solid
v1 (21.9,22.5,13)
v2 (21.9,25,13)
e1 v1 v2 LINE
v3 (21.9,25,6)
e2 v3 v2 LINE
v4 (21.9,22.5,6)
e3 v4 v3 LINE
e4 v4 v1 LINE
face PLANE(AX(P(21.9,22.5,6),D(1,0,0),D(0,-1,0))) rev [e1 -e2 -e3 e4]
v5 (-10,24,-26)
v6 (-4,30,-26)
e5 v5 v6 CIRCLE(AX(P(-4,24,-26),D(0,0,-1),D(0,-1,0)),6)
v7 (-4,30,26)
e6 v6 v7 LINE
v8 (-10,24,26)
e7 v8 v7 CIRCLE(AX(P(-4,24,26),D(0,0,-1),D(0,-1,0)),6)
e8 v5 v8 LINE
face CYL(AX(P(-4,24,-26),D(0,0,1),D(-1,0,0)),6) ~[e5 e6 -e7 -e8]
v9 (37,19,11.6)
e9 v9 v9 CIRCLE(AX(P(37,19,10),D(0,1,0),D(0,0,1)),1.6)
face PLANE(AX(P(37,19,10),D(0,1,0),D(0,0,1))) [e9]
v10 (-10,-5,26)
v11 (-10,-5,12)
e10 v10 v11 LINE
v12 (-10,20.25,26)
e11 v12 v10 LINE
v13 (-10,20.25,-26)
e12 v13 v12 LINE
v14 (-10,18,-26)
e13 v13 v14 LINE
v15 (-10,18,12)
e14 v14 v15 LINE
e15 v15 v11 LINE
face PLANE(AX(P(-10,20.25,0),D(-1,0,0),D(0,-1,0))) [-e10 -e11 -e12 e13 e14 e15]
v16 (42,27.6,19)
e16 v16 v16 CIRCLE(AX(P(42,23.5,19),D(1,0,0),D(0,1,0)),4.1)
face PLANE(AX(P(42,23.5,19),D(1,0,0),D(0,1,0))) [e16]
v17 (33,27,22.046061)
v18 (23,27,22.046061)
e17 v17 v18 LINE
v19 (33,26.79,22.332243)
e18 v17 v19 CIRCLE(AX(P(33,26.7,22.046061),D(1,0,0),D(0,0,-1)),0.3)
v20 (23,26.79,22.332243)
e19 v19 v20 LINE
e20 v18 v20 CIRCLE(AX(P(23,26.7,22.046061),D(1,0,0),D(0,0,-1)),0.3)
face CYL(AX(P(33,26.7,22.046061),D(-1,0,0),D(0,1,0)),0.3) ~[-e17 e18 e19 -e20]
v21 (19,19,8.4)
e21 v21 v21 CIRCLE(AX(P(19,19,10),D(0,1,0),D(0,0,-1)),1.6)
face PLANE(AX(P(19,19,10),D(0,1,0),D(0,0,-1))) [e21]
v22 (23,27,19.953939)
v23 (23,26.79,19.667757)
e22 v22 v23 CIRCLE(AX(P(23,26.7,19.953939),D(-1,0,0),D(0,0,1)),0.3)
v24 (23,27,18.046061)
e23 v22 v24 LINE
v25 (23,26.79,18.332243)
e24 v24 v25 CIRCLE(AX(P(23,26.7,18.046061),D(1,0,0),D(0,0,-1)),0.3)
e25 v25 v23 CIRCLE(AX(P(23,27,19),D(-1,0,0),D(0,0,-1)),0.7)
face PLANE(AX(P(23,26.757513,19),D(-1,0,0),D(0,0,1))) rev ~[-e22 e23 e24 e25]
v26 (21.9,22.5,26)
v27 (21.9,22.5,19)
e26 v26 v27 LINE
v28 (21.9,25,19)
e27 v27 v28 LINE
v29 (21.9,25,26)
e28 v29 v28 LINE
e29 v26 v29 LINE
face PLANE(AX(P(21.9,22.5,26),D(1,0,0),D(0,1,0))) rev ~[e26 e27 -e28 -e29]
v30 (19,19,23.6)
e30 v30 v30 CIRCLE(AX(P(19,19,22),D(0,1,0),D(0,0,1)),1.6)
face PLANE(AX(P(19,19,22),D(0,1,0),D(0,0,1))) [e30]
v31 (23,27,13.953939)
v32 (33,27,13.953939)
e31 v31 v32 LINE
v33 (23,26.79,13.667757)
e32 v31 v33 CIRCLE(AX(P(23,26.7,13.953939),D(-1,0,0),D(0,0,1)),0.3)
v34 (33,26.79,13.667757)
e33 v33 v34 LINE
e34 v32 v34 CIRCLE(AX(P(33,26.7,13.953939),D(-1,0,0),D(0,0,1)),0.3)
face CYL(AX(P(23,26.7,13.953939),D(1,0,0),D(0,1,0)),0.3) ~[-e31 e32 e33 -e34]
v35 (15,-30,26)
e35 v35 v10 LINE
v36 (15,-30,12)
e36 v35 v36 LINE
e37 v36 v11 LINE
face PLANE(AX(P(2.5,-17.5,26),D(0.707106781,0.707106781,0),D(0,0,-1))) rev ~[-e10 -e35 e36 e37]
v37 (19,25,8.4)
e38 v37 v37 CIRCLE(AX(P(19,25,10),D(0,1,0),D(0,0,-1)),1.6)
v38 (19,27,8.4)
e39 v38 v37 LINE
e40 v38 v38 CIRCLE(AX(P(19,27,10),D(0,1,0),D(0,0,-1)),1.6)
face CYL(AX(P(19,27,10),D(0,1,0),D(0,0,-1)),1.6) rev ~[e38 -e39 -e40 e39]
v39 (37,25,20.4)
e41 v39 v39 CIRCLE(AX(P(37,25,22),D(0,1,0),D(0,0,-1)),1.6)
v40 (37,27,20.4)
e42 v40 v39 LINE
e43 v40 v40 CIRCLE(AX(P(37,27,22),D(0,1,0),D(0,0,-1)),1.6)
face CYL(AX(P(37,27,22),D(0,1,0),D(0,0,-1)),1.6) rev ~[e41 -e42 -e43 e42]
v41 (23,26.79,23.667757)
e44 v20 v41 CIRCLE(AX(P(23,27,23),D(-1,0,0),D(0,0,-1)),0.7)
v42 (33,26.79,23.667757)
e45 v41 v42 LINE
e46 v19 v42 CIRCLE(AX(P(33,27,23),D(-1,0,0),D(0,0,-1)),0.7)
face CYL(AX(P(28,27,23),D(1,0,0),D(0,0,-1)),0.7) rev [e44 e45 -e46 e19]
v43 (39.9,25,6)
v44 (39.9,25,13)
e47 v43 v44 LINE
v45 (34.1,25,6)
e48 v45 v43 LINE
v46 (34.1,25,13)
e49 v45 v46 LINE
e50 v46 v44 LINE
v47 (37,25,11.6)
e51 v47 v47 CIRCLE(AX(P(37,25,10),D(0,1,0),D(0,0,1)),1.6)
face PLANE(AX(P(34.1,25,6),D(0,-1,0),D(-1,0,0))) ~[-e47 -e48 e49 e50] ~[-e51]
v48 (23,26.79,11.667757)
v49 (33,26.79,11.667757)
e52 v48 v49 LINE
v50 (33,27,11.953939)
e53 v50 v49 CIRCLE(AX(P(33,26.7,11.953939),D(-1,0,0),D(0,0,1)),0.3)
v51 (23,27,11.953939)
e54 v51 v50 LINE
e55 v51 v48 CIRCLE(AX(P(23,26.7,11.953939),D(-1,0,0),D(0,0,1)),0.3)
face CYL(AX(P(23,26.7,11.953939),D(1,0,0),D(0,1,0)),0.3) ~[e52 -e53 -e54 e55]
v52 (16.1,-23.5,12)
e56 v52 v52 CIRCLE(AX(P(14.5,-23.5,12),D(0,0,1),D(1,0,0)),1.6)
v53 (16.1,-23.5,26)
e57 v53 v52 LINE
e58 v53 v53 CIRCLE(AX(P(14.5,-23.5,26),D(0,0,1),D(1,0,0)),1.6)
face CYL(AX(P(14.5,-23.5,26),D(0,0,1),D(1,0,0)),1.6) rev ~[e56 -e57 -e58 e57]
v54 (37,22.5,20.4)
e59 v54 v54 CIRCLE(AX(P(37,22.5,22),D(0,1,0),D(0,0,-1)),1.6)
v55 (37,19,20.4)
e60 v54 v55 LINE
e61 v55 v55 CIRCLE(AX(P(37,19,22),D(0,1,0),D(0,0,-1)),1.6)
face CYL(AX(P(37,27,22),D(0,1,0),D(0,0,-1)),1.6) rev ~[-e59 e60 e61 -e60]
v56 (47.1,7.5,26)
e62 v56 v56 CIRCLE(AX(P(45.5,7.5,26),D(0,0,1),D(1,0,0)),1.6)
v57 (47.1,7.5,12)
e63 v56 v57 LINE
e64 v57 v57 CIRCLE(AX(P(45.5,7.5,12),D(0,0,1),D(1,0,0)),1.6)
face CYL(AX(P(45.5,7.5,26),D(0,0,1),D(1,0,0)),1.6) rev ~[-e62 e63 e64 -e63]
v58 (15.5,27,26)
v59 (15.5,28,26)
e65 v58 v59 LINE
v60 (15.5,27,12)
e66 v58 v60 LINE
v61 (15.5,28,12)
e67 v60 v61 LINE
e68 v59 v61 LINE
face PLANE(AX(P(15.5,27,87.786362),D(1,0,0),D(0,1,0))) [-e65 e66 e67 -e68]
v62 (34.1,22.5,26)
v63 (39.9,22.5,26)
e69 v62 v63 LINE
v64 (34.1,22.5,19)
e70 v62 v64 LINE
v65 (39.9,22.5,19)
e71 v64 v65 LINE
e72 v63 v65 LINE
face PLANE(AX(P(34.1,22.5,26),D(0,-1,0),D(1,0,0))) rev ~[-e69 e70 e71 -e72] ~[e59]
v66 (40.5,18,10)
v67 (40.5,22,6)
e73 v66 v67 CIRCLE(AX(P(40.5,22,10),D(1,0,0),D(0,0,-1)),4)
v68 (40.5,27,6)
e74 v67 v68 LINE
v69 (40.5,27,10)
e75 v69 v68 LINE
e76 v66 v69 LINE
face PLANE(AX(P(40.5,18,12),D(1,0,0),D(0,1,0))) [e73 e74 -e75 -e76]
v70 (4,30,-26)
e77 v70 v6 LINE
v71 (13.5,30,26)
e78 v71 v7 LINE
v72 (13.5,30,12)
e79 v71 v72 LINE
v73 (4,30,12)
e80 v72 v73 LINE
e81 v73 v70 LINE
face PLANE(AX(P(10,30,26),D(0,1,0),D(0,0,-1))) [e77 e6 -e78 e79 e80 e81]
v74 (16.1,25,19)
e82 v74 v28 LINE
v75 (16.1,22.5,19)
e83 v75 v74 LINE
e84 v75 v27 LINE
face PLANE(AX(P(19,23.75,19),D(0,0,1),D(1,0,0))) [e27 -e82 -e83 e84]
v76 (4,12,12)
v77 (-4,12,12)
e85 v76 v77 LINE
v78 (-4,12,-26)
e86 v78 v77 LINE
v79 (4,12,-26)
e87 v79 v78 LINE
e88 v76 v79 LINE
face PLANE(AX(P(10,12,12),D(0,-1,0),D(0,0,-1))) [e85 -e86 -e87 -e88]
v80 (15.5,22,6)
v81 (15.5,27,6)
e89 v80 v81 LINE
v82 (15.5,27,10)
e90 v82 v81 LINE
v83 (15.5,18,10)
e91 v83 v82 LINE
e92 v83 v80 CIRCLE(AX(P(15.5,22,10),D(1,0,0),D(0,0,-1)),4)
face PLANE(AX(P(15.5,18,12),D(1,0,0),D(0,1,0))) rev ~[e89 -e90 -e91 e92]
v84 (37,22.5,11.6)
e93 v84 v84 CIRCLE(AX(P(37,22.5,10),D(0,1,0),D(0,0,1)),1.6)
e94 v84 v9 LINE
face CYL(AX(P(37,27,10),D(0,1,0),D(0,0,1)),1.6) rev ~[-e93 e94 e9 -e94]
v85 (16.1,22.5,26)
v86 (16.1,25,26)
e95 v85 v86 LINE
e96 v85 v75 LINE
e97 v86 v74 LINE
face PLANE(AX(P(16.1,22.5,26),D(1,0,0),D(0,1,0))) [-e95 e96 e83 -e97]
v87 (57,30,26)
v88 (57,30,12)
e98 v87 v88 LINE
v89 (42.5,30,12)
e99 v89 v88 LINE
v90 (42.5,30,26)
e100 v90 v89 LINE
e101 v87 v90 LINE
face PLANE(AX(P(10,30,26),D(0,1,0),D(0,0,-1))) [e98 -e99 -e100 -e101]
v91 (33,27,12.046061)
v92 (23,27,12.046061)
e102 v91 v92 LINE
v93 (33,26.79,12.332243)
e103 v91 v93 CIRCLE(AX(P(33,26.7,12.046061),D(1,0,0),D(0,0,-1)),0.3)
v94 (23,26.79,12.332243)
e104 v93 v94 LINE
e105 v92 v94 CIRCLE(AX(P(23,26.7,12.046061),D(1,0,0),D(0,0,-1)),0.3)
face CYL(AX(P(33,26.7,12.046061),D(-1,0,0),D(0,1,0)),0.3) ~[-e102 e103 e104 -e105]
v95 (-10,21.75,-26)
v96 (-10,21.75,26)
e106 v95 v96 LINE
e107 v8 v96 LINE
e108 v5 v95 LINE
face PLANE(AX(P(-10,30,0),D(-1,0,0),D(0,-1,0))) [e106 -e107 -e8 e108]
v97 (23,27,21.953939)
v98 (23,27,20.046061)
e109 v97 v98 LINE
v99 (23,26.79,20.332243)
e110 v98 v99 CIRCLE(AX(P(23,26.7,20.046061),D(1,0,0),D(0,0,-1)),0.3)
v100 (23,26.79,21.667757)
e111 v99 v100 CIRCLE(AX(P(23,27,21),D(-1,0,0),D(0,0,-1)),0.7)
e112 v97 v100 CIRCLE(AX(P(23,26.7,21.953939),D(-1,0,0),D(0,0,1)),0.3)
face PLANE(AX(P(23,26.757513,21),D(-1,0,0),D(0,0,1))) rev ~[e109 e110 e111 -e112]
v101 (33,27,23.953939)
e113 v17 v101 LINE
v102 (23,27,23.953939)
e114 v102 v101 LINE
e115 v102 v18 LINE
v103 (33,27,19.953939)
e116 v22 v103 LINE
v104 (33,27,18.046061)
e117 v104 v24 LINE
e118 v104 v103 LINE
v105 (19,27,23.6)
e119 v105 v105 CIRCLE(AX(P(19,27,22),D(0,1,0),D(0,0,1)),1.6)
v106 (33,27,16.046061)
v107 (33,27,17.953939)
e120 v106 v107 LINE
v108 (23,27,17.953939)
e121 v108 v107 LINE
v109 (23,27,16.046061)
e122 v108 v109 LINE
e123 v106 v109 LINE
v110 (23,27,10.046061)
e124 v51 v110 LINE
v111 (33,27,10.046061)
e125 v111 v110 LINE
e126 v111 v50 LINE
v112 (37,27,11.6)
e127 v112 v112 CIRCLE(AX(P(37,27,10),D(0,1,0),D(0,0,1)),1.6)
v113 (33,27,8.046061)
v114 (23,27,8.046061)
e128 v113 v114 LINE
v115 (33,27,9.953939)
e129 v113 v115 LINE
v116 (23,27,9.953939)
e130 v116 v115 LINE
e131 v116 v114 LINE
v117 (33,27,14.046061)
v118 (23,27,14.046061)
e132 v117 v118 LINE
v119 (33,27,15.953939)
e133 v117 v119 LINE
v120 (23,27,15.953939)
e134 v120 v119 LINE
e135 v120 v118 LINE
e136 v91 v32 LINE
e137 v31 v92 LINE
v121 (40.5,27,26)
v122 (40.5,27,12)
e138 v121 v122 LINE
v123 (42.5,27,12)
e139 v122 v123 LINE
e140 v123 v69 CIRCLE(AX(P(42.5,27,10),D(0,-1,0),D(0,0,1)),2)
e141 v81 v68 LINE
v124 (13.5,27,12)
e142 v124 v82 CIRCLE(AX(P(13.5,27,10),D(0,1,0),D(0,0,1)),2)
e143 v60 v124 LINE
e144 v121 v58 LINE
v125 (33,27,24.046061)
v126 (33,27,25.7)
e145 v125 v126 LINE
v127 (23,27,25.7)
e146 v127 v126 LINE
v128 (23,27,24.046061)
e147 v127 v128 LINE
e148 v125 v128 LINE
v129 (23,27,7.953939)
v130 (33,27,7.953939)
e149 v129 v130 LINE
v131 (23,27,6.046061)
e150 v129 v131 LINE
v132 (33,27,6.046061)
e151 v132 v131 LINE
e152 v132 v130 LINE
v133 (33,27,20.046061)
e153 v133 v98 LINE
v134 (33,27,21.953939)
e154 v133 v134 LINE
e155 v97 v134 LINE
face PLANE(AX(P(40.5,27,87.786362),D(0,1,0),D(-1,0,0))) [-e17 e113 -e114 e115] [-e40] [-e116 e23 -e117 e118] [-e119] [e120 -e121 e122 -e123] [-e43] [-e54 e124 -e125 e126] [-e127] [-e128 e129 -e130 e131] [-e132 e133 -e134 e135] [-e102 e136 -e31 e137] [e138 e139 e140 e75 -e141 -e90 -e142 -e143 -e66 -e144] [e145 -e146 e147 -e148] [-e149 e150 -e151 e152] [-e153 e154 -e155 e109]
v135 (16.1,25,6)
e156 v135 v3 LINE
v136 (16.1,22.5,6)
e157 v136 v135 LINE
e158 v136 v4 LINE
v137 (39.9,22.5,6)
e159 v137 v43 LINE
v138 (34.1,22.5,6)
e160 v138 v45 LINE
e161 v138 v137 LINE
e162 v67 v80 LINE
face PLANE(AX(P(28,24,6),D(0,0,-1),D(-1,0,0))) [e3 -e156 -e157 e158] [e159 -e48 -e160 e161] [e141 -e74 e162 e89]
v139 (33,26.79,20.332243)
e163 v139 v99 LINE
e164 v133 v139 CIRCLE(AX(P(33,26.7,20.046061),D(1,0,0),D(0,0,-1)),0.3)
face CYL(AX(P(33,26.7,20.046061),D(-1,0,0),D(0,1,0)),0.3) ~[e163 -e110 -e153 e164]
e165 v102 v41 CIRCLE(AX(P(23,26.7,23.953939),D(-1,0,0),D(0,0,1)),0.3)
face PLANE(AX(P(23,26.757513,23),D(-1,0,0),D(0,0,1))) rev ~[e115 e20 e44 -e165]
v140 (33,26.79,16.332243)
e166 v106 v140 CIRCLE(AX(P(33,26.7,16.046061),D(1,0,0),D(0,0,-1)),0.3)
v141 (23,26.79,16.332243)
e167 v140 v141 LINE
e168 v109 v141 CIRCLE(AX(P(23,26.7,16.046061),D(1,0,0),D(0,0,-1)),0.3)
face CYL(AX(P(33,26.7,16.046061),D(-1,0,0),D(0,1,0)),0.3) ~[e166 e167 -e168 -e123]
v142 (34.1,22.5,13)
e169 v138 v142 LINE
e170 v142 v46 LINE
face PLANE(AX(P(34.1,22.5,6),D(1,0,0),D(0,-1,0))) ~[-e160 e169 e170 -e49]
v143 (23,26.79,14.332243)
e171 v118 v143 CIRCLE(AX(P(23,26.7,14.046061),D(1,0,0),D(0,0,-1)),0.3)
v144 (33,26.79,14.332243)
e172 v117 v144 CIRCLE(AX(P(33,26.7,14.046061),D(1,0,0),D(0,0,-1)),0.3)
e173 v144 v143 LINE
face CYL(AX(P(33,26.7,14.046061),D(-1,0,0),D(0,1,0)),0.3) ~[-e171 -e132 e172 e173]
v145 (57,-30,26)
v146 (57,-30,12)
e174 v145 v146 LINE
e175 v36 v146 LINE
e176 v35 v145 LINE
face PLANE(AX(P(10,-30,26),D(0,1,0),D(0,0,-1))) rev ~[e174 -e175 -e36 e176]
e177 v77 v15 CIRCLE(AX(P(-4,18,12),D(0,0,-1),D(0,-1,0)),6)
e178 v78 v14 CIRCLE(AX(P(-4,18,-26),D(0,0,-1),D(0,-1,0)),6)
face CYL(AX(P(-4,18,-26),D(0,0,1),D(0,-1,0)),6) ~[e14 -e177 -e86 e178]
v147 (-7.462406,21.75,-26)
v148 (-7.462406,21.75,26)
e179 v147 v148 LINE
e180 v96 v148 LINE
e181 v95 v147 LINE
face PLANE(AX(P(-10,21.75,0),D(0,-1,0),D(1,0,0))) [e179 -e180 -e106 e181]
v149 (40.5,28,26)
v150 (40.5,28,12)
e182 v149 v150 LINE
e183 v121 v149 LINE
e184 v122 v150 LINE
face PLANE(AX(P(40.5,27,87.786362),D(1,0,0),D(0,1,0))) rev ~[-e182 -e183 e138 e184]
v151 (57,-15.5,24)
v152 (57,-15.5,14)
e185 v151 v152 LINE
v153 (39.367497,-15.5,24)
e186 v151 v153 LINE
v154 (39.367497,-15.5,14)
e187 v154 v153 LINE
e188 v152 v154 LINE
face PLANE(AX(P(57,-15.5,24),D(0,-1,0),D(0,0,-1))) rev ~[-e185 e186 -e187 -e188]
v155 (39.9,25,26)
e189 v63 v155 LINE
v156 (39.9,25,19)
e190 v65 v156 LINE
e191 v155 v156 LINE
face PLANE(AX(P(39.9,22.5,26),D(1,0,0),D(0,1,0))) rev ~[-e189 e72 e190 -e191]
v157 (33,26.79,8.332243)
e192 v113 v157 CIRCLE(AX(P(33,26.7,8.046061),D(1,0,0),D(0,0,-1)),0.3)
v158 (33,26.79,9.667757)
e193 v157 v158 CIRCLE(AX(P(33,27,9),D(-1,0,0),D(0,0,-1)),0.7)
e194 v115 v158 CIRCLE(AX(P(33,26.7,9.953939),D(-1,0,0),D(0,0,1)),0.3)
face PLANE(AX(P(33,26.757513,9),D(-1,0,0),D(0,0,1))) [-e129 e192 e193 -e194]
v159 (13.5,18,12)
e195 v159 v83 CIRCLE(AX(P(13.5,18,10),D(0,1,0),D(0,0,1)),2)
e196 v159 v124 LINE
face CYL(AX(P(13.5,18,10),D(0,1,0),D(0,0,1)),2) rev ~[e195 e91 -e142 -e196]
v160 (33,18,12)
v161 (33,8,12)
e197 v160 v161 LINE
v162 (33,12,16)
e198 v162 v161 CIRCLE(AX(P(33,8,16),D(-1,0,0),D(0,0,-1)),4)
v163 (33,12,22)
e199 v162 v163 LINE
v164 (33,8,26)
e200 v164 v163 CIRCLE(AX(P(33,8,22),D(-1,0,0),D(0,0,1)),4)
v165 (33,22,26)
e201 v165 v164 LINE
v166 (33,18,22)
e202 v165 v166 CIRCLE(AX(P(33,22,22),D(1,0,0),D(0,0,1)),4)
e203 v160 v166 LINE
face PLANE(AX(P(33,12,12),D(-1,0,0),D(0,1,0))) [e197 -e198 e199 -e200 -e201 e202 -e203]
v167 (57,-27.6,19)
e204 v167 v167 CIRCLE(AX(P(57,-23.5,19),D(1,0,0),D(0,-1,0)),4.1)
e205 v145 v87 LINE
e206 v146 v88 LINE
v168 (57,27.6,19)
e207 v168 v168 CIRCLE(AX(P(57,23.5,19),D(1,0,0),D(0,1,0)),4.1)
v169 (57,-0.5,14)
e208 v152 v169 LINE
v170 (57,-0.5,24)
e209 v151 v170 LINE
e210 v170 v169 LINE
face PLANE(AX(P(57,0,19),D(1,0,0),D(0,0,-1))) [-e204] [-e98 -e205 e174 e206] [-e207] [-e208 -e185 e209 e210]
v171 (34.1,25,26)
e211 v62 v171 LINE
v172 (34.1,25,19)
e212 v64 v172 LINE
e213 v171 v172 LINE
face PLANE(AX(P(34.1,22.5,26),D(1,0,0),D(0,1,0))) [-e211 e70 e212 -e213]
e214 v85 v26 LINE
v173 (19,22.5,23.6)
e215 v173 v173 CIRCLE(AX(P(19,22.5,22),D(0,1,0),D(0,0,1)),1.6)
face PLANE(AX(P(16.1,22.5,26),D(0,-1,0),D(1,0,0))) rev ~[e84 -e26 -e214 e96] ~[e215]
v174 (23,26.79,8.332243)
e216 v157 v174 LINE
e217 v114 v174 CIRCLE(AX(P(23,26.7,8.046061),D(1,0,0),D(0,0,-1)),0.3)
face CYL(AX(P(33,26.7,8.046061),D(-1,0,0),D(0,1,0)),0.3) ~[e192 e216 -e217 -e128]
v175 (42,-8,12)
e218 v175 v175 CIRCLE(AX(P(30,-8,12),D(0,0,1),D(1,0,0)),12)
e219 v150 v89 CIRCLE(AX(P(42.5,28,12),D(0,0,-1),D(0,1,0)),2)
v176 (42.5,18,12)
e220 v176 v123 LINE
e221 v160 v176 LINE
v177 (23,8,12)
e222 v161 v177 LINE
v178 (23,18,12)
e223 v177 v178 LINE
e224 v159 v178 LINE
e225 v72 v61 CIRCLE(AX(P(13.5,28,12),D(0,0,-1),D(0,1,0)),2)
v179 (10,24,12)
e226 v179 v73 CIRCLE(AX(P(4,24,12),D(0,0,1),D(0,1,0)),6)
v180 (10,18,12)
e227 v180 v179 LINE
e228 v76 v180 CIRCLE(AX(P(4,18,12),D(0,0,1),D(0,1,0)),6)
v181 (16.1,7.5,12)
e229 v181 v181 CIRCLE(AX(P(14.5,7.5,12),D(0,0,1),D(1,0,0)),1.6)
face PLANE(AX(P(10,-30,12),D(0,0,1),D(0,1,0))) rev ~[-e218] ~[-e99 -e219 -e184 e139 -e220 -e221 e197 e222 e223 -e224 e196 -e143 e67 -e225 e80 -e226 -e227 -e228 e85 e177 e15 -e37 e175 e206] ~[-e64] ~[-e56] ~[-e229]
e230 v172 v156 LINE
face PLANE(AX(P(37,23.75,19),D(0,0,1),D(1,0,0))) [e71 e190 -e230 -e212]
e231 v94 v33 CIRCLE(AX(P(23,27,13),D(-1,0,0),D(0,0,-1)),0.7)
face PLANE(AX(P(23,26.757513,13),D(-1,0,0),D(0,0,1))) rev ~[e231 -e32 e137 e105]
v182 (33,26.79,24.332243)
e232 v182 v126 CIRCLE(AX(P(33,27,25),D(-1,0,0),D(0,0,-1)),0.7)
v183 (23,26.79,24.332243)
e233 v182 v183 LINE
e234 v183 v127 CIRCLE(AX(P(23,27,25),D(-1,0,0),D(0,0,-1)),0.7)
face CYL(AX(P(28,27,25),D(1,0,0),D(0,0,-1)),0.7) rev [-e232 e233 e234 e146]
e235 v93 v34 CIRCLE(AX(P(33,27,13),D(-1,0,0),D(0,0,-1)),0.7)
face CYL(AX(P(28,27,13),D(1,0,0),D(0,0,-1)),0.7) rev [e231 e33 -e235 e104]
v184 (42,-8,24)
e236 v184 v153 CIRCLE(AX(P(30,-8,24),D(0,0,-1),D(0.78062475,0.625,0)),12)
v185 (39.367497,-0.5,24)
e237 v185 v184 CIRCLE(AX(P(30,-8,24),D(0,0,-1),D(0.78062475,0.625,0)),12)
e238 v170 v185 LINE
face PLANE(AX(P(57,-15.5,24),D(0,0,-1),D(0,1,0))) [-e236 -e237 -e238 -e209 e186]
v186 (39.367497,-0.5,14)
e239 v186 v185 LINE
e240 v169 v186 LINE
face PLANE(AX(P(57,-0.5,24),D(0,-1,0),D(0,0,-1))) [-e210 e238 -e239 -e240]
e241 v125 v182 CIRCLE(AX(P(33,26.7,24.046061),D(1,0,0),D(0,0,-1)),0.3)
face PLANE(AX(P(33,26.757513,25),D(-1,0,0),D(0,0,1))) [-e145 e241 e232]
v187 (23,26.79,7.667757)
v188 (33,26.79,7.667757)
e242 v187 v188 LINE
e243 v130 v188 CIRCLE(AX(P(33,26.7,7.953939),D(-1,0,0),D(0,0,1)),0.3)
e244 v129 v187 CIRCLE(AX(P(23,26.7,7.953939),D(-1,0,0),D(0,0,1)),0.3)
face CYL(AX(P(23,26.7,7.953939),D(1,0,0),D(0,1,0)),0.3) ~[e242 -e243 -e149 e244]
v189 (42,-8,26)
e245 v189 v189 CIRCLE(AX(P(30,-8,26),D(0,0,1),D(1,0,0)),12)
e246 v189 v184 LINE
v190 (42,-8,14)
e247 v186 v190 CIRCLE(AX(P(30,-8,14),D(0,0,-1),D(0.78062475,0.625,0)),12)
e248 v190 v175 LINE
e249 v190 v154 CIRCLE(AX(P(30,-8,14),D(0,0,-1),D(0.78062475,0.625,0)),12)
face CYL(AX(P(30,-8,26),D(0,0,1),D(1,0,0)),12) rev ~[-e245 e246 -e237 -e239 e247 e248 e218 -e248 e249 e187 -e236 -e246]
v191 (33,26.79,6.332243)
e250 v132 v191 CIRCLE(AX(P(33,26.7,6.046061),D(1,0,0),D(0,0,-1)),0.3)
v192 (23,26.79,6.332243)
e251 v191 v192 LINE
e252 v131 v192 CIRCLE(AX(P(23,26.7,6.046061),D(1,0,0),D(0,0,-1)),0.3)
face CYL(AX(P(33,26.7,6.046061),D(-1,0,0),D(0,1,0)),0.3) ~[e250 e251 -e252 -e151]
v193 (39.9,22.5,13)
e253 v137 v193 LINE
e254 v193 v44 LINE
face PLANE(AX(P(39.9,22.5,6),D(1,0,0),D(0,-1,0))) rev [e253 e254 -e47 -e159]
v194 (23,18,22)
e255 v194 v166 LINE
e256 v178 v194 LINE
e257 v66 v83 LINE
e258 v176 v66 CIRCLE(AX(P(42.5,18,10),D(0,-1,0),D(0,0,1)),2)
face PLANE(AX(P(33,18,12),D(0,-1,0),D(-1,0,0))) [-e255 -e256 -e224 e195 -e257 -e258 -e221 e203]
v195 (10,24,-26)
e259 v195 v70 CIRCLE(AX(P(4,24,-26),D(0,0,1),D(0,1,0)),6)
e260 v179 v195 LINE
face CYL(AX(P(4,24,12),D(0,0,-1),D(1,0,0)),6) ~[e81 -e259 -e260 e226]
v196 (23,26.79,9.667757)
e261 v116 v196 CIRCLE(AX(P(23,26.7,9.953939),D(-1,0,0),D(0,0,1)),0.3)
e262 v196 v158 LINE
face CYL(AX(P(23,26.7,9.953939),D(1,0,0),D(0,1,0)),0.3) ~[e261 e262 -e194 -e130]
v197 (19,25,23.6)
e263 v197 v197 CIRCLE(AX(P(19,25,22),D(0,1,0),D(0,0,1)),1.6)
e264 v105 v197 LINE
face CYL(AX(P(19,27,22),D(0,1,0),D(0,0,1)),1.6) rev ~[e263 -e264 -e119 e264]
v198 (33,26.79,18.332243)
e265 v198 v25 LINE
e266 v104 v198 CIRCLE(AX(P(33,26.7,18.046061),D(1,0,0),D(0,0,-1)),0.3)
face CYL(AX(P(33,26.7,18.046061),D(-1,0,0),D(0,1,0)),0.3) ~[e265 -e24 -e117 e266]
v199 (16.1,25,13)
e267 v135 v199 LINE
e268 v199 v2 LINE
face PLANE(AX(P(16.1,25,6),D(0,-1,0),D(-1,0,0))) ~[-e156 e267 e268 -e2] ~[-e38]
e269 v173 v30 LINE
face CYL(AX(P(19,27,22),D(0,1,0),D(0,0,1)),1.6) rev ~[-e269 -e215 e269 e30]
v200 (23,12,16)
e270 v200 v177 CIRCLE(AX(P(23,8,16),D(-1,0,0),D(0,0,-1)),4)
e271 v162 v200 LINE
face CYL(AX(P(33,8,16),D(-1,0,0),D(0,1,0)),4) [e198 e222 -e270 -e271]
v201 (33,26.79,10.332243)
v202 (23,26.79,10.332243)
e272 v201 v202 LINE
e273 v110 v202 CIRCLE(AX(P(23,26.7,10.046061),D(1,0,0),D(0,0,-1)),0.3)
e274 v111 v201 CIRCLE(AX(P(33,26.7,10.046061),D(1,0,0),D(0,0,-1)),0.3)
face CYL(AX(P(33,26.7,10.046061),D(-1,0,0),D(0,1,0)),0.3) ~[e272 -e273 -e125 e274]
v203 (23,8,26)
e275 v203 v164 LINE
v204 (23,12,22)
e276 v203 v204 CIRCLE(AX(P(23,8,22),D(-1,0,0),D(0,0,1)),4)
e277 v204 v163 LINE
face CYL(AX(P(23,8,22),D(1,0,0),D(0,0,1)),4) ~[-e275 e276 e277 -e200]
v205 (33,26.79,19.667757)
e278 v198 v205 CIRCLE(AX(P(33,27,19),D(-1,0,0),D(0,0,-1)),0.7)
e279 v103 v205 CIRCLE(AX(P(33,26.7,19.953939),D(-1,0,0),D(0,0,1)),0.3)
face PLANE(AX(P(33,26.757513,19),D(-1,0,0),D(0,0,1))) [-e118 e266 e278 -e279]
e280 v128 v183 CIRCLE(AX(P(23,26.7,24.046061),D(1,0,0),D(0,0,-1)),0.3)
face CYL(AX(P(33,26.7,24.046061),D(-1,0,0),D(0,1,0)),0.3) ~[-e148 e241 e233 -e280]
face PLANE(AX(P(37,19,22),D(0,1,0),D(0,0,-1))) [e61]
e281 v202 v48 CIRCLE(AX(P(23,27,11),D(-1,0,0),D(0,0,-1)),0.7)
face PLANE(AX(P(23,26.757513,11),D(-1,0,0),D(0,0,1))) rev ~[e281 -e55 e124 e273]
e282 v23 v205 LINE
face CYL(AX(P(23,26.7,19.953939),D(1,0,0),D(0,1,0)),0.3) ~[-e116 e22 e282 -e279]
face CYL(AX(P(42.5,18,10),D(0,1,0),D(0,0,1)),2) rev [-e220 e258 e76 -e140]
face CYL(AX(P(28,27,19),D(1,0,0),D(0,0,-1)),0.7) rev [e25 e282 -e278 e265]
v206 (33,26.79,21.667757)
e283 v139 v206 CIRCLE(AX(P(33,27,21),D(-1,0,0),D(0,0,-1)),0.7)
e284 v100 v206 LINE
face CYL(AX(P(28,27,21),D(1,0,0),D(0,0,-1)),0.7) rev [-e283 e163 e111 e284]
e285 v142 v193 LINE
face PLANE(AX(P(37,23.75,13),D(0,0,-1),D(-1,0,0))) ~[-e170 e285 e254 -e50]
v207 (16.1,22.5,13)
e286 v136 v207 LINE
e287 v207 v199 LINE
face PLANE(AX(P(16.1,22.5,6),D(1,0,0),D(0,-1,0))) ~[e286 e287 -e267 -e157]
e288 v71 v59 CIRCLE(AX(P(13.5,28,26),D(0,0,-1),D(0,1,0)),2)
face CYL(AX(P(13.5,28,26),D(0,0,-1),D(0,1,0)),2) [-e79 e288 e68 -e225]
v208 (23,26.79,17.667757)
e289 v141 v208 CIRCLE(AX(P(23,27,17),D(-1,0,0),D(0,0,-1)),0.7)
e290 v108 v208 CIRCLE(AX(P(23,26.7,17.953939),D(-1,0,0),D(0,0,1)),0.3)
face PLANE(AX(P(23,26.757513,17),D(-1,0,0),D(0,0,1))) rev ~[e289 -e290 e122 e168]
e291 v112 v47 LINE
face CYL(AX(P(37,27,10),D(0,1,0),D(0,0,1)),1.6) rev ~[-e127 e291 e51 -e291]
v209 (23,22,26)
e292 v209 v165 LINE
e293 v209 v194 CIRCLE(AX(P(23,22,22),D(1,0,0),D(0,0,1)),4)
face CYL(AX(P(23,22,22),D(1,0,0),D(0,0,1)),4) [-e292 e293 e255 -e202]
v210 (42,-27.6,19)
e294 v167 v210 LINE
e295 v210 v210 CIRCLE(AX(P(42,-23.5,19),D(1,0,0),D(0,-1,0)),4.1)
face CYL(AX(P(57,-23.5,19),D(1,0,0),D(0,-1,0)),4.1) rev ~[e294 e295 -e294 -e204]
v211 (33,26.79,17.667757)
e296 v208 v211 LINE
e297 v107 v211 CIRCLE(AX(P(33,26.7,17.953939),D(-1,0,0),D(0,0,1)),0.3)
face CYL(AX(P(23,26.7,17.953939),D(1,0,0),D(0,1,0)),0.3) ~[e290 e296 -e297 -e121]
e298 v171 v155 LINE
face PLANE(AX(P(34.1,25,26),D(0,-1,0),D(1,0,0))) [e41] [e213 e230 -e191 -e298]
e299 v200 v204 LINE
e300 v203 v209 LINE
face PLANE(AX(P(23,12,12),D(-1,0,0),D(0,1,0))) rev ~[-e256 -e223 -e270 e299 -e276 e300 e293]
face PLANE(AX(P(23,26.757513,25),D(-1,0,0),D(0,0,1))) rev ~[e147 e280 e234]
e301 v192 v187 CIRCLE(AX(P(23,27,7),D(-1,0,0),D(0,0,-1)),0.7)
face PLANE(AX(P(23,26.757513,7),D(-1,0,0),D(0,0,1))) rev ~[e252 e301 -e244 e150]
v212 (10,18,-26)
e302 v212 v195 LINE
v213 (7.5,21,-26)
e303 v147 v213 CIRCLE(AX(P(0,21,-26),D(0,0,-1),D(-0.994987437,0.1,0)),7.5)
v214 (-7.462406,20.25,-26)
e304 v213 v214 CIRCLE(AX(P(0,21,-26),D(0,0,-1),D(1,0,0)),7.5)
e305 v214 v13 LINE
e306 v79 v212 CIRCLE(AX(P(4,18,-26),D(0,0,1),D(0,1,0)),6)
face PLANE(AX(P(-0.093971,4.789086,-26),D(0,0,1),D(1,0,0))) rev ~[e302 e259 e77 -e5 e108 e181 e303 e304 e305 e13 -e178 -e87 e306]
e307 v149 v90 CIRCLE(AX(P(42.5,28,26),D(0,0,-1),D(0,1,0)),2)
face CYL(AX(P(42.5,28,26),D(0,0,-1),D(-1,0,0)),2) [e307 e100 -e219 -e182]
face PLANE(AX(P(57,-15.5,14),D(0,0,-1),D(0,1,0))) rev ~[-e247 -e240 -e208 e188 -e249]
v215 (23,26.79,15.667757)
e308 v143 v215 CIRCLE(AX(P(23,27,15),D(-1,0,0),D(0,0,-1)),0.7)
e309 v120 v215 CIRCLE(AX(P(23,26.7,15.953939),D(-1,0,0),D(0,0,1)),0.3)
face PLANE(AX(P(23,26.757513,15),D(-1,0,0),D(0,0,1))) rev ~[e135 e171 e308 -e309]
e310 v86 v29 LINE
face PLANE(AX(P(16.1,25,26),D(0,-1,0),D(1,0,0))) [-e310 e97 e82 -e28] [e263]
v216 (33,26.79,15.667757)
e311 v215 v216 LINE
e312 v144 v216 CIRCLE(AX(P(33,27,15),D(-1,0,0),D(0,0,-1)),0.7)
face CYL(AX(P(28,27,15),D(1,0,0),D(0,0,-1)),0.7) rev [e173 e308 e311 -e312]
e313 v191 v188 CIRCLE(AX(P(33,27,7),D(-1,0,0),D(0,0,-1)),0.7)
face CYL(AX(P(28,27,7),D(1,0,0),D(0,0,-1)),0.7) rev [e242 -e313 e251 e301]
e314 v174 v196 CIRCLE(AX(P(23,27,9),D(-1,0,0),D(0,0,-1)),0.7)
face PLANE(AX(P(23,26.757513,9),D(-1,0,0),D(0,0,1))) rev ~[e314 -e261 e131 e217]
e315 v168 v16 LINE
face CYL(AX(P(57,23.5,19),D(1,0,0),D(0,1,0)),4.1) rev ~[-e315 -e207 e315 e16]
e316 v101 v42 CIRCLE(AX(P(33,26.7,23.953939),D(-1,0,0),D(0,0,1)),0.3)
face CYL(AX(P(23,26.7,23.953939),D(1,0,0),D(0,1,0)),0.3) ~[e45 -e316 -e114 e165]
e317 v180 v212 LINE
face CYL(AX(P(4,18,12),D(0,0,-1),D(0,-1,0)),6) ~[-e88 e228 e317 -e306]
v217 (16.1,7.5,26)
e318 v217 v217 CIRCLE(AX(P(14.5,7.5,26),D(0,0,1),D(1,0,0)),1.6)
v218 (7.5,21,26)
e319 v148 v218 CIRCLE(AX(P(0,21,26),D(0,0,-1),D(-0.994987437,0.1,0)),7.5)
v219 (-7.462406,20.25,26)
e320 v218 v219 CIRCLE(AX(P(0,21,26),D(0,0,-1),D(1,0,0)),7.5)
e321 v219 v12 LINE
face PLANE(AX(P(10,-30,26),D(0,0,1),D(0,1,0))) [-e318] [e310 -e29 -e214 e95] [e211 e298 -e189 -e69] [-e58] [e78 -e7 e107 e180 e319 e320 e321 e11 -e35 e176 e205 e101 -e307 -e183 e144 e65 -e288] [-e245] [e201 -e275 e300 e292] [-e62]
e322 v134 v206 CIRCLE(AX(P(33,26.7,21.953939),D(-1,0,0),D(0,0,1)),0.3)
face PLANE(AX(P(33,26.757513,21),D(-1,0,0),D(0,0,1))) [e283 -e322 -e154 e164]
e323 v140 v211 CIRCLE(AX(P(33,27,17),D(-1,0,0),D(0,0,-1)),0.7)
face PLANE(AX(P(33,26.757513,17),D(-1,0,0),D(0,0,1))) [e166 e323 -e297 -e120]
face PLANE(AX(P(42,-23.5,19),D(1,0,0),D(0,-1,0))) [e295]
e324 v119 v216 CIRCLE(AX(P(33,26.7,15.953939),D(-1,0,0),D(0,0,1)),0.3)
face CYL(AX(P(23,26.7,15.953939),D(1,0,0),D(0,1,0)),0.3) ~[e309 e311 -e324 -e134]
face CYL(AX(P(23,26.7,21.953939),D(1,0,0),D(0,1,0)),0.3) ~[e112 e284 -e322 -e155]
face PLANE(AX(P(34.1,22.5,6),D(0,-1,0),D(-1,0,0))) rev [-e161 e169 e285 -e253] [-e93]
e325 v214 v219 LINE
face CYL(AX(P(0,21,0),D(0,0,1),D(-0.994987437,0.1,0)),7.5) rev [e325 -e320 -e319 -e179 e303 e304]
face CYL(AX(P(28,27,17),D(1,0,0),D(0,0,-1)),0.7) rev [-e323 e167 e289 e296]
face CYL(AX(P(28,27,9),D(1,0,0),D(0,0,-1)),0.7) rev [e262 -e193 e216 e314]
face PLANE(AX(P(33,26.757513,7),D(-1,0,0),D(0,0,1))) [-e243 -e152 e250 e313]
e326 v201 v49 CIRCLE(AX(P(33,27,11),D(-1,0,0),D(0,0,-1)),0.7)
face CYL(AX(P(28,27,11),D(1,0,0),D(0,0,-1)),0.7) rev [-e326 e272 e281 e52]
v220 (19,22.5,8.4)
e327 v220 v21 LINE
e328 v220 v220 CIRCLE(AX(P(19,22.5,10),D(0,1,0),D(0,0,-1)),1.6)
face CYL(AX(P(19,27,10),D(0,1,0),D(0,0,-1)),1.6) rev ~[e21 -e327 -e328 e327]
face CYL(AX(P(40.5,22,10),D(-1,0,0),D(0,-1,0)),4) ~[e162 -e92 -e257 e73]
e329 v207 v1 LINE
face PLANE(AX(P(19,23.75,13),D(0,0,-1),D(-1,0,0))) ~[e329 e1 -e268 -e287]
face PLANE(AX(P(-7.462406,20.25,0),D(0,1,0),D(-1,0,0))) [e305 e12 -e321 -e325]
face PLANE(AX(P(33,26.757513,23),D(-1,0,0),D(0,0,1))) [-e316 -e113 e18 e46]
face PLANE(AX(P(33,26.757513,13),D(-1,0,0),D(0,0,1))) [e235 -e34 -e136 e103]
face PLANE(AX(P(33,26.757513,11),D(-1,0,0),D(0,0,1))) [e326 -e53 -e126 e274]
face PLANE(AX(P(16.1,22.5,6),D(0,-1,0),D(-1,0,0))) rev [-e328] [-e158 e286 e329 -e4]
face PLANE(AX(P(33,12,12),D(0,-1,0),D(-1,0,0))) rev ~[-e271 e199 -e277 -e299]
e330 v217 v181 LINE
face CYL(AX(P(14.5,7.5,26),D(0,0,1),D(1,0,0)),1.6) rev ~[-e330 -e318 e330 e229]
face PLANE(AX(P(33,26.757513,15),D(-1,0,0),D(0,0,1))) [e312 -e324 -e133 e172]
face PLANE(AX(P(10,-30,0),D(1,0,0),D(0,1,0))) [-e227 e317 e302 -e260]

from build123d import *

# Parameters (mm, degrees)
RESSALTO_EXTRUS_O2_DEPTH   = 26
ESBO_O4_W                  = 38
ESBO_O4_H                  = 42
CORTE_EXTRUS_O1_DEPTH      = 45.452221542
ESBO_O5_W                  = 14
ESBO_O5_H                  = 60
RESSALTO_EXTRUS_O3_DEPTH   = 47
ESBO_O8_R                  = 1.6
ESBO_O8_R_2                = 12
CORTE_EXTRUS_O3_DEPTH      = 83.782848465
ESBO_O6_R                  = 4.1
CORTE_EXTRUS_O4_DEPTH      = 15
CORTE_EXTRUS_O5_REACH      = 79.878
CORTE_EXTRUS_O5_END_RADIUS = 12
ESBO_O10_W                 = 10
ESBO_O10_H                 = 15
ESBO_O12_W                 = 25
ESBO_O12_H                 = 12
RESSALTO_EXTRUS_O4_DEPTH   = 6
CORTE_EXTRUS_O6_DEPTH      = 75.786362393
CORTE_EXTRUS_O6_DEPTH_BACK = 75.786362393
ESBO_O11_W                 = 25
ESBO_O11_H                 = 3
ESBO_O13_W                 = 10
ESBO_O13_H                 = 6
CORTE_EXTRUS_O7_DEPTH      = 75.786362393
FILETE5_R                  = 4
FILETE6_R                  = 6
FILETE8_R                  = 2
FILETE9_R                  = 2
ESBO_O14_R                 = 1.6
CORTE_EXTRUS_O8_DEPTH      = 8
ESBO_O15_W                 = 5.8
ESBO_O15_H                 = 2.5
CORTE_EXTRUS_O9_DEPTH      = 7
CORTE_EXTRUS_O10_DEPTH     = 5
PADR_O_LINEAR1_COUNT       = 10
PADR_O_LINEAR1_PITCH       = 2
FILETE10_R                 = 0.3
CHANFRO1_SIZE              = 25


with BuildPart() as part:
    # Esboço1 → Ressalto-extrusão2 (new, symmetric)
    with BuildSketch(Plane.XY):
        with BuildLine():
            Line((10, 30), (-10, 30))
            Line((-10, 30), (-10, 21.75))
            Line((-10, 21.75), (-7.462405778, 21.75))
            ThreePointArc((-7.462405778, 21.75), (0.375470813, 28.490595548), (7.5, 21))
            ThreePointArc((7.5, 21), (0.375470813, 13.509404452), (-7.462405778, 20.25))
            Line((-7.462405778, 20.25), (-10, 20.25))
            Line((-10, 20.25), (-10, -30))
            Line((-10, -30), (10, -30))
            Line((10, -30), (10, 30))
        make_face()
    extrude(amount=RESSALTO_EXTRUS_O2_DEPTH, both=True)

    # Esboço4 → Corte-extrusão1 (cut, through all)
    with BuildSketch(Plane(origin=(10, 0, 0), x_dir=(0, 0, -1), z_dir=(1, 0, 0))):
        with Locations((7, -9)):
            Rectangle(ESBO_O4_W, ESBO_O4_H)
    extrude(amount=-CORTE_EXTRUS_O1_DEPTH, mode=Mode.SUBTRACT)

    # Esboço5 → Ressalto-extrusão3 (add)
    with BuildSketch(Plane(origin=(10, 0, 0), x_dir=(0, 0, -1), z_dir=(1, 0, 0))):
        with Locations((-19, 0)):
            Rectangle(ESBO_O5_W, ESBO_O5_H)
    extrude(amount=RESSALTO_EXTRUS_O3_DEPTH)

    # Esboço8 → Corte-extrusão3 (cut, through all)
    with BuildSketch(Plane.XY.offset(26)):
        with Locations((45.5, 7.5)):
            Circle(ESBO_O8_R)
        with Locations((14.5, -23.5)):
            Circle(ESBO_O8_R)
        with Locations((30, -8)):
            Circle(ESBO_O8_R_2)
        with Locations((14.5, 7.5)):
            Circle(ESBO_O8_R)
    extrude(amount=-CORTE_EXTRUS_O3_DEPTH, mode=Mode.SUBTRACT)

    # Esboço6 → Corte-extrusão4 (cut)
    with BuildSketch(Plane(origin=(57, 0, 0), x_dir=(0, 0, -1), z_dir=(1, 0, 0))):
        with Locations(Location((-19, 23.5, 0), (0, 0, 90))):
            Circle(ESBO_O6_R)
        with Locations(Location((-19, -23.5, 0), (0, 0, 270))):
            Circle(ESBO_O6_R)
    extrude(amount=-CORTE_EXTRUS_O4_DEPTH, mode=Mode.SUBTRACT)

    # Corte-extrusão5: up to this cylinder (the profile starts outside it)
    corte_extrus_o5_end = Plane(origin=(30, -8, 19), z_dir=(0, 0, 1)) * Cylinder(CORTE_EXTRUS_O5_END_RADIUS, 184.756, mode=Mode.PRIVATE)
    # Esboço10 → Corte-extrusão5 (cut, up to the surface)
    with BuildSketch(Plane(origin=(57, 0, 0), x_dir=(0, 0, -1), z_dir=(1, 0, 0)), mode=Mode.PRIVATE) as corte_extrus_o5_sk1:
        with Locations((-19, -8)):
            Rectangle(ESBO_O10_W, ESBO_O10_H)
    corte_extrus_o5_tool1 = extrude(corte_extrus_o5_sk1.sketch, amount=-CORTE_EXTRUS_O5_REACH, mode=Mode.PRIVATE) - corte_extrus_o5_end
    add(corte_extrus_o5_tool1.solids().sort_by_distance((57, -8, 19))[0], mode=Mode.SUBTRACT)

    # Esboço12 → Ressalto-extrusão4 (add)
    with BuildSketch(Plane(origin=(0, 0, 12), x_dir=(-1, 0, 0), z_dir=(0, 0, -1))):
        with Locations((-28, 24)):
            Rectangle(ESBO_O12_W, ESBO_O12_H)
    extrude(amount=RESSALTO_EXTRUS_O4_DEPTH)

    # Esboço11 → Corte-extrusão6 (cut, two sides: drawn at the far end of the back side and taken through both)
    with BuildSketch(Plane(origin=(0, 0, 12), x_dir=(-1, 0, 0), z_dir=(0, 0, -1)).offset(-CORTE_EXTRUS_O6_DEPTH_BACK)):
        with Locations((-28, 28.5)):
            Rectangle(ESBO_O11_W, ESBO_O11_H)
    extrude(amount=CORTE_EXTRUS_O6_DEPTH + CORTE_EXTRUS_O6_DEPTH_BACK, mode=Mode.SUBTRACT)

    # Esboço13 → Corte-extrusão7 (cut, through all)
    with BuildSketch(Plane(origin=(0, 0, 12), x_dir=(-1, 0, 0), z_dir=(0, 0, -1))):
        with Locations((-28, 15)):
            Rectangle(ESBO_O13_W, ESBO_O13_H)
    extrude(amount=-CORTE_EXTRUS_O7_DEPTH, mode=Mode.SUBTRACT)

    # Filete5
    filete5_edges = [part.edges().sort_by_distance(p)[0] for p in [
        (28, 18, 6),
        (28, 12, 26),
        (28, 18, 26),
        (28, 12, 12),
    ]]
    fillet(filete5_edges, radius=FILETE5_R)

    # Filete6
    filete6_edges = [part.edges().sort_by_distance(p)[0] for p in [
        (-10, 30, 0),
        (-10, 12, -7),
        (10, 12, -7),
        (10, 30, -7),
    ]]
    fillet(filete6_edges, radius=FILETE6_R)

    # Filete8
    filete8_edges = [part.edges().sort_by_distance(p)[0] for p in [
        (40.5, 22.5, 12),
        (15.5, 22.5, 12),
    ]]
    fillet(filete8_edges, radius=FILETE8_R)

    # Filete9
    filete9_edges = [part.edges().sort_by_distance(p)[0] for p in [
        (15.5, 30, 19),
        (40.5, 30, 19),
    ]]
    fillet(filete9_edges, radius=FILETE9_R)

    # Esboço14 → Corte-extrusão8 (cut)
    with BuildSketch(Plane(origin=(0, 27, 0), x_dir=(1, 0, 0), z_dir=(0, 1, 0))):
        with Locations(Location((19, -22, 0), (0, 0, 270))):
            Circle(ESBO_O14_R)
        with Locations(Location((37, -22, 0), (0, 0, 90))):
            Circle(ESBO_O14_R)
        with Locations(Location((37, -10, 0), (0, 0, 270))):
            Circle(ESBO_O14_R)
        with Locations(Location((19, -10, 0), (0, 0, 90))):
            Circle(ESBO_O14_R)
    extrude(amount=-CORTE_EXTRUS_O8_DEPTH, mode=Mode.SUBTRACT)

    # Esboço15 → Corte-extrusão9 (cut)
    with BuildSketch(Plane.XY.offset(26)):
        with Locations((19, 23.75)):
            Rectangle(ESBO_O15_W, ESBO_O15_H)
        with Locations((37, 23.75)):
            Rectangle(ESBO_O15_W, ESBO_O15_H)
    corte_extrus_o9 = extrude(amount=-CORTE_EXTRUS_O9_DEPTH, mode=Mode.SUBTRACT)

    # Espelhar1: Corte-extrusão9 across plane
    add(corte_extrus_o9.mirror(Plane.XY.offset(16)), mode=Mode.SUBTRACT)

    # Esboço16 → Corte-extrusão10 (cut, symmetric)
    with BuildSketch(Plane(origin=(28, 0, 0), x_dir=(0, 0, -1), z_dir=(1, 0, 0))):
        with BuildLine():
            Line((-7.7, 27), (-6.3, 27))
            ThreePointArc((-6.3, 27), (-7, 26.3), (-7.7, 27))
        make_face()
    corte_extrus_o10 = extrude(amount=CORTE_EXTRUS_O10_DEPTH, both=True, mode=Mode.SUBTRACT)

    # Padrão linear1: Corte-extrusão10 ×10
    with Locations(*[(0, 0, i * PADR_O_LINEAR1_PITCH) for i in range(1, PADR_O_LINEAR1_COUNT)]):
        add(corte_extrus_o10, mode=Mode.SUBTRACT)

    # Filete10
    filete10_edges = [part.edges().sort_by_distance(p)[0] for p in [
        (28, 27, 7.7),
        (28, 27, 6.3),
        (28, 27, 9.7),
        (28, 27, 8.3),
        (28, 27, 11.7),
        (28, 27, 10.3),
        (28, 27, 13.7),
        (28, 27, 12.3),
        (28, 27, 15.7),
        (28, 27, 14.3),
        (28, 27, 17.7),
        (28, 27, 16.3),
        (28, 27, 19.7),
        (28, 27, 18.3),
        (28, 27, 21.7),
        (28, 27, 20.3),
        (28, 27, 23.7),
        (28, 27, 22.3),
        (28, 27, 24.3),
    ]]
    fillet(filete10_edges, radius=FILETE10_R)

    # Chanfro1
    chanfro1_edges = [part.edges().sort_by_distance(p)[0] for p in [
        (-10, -30, 19),
    ]]
    chamfer(chanfro1_edges, length=CHANFRO1_SIZE)


solid = part.part
